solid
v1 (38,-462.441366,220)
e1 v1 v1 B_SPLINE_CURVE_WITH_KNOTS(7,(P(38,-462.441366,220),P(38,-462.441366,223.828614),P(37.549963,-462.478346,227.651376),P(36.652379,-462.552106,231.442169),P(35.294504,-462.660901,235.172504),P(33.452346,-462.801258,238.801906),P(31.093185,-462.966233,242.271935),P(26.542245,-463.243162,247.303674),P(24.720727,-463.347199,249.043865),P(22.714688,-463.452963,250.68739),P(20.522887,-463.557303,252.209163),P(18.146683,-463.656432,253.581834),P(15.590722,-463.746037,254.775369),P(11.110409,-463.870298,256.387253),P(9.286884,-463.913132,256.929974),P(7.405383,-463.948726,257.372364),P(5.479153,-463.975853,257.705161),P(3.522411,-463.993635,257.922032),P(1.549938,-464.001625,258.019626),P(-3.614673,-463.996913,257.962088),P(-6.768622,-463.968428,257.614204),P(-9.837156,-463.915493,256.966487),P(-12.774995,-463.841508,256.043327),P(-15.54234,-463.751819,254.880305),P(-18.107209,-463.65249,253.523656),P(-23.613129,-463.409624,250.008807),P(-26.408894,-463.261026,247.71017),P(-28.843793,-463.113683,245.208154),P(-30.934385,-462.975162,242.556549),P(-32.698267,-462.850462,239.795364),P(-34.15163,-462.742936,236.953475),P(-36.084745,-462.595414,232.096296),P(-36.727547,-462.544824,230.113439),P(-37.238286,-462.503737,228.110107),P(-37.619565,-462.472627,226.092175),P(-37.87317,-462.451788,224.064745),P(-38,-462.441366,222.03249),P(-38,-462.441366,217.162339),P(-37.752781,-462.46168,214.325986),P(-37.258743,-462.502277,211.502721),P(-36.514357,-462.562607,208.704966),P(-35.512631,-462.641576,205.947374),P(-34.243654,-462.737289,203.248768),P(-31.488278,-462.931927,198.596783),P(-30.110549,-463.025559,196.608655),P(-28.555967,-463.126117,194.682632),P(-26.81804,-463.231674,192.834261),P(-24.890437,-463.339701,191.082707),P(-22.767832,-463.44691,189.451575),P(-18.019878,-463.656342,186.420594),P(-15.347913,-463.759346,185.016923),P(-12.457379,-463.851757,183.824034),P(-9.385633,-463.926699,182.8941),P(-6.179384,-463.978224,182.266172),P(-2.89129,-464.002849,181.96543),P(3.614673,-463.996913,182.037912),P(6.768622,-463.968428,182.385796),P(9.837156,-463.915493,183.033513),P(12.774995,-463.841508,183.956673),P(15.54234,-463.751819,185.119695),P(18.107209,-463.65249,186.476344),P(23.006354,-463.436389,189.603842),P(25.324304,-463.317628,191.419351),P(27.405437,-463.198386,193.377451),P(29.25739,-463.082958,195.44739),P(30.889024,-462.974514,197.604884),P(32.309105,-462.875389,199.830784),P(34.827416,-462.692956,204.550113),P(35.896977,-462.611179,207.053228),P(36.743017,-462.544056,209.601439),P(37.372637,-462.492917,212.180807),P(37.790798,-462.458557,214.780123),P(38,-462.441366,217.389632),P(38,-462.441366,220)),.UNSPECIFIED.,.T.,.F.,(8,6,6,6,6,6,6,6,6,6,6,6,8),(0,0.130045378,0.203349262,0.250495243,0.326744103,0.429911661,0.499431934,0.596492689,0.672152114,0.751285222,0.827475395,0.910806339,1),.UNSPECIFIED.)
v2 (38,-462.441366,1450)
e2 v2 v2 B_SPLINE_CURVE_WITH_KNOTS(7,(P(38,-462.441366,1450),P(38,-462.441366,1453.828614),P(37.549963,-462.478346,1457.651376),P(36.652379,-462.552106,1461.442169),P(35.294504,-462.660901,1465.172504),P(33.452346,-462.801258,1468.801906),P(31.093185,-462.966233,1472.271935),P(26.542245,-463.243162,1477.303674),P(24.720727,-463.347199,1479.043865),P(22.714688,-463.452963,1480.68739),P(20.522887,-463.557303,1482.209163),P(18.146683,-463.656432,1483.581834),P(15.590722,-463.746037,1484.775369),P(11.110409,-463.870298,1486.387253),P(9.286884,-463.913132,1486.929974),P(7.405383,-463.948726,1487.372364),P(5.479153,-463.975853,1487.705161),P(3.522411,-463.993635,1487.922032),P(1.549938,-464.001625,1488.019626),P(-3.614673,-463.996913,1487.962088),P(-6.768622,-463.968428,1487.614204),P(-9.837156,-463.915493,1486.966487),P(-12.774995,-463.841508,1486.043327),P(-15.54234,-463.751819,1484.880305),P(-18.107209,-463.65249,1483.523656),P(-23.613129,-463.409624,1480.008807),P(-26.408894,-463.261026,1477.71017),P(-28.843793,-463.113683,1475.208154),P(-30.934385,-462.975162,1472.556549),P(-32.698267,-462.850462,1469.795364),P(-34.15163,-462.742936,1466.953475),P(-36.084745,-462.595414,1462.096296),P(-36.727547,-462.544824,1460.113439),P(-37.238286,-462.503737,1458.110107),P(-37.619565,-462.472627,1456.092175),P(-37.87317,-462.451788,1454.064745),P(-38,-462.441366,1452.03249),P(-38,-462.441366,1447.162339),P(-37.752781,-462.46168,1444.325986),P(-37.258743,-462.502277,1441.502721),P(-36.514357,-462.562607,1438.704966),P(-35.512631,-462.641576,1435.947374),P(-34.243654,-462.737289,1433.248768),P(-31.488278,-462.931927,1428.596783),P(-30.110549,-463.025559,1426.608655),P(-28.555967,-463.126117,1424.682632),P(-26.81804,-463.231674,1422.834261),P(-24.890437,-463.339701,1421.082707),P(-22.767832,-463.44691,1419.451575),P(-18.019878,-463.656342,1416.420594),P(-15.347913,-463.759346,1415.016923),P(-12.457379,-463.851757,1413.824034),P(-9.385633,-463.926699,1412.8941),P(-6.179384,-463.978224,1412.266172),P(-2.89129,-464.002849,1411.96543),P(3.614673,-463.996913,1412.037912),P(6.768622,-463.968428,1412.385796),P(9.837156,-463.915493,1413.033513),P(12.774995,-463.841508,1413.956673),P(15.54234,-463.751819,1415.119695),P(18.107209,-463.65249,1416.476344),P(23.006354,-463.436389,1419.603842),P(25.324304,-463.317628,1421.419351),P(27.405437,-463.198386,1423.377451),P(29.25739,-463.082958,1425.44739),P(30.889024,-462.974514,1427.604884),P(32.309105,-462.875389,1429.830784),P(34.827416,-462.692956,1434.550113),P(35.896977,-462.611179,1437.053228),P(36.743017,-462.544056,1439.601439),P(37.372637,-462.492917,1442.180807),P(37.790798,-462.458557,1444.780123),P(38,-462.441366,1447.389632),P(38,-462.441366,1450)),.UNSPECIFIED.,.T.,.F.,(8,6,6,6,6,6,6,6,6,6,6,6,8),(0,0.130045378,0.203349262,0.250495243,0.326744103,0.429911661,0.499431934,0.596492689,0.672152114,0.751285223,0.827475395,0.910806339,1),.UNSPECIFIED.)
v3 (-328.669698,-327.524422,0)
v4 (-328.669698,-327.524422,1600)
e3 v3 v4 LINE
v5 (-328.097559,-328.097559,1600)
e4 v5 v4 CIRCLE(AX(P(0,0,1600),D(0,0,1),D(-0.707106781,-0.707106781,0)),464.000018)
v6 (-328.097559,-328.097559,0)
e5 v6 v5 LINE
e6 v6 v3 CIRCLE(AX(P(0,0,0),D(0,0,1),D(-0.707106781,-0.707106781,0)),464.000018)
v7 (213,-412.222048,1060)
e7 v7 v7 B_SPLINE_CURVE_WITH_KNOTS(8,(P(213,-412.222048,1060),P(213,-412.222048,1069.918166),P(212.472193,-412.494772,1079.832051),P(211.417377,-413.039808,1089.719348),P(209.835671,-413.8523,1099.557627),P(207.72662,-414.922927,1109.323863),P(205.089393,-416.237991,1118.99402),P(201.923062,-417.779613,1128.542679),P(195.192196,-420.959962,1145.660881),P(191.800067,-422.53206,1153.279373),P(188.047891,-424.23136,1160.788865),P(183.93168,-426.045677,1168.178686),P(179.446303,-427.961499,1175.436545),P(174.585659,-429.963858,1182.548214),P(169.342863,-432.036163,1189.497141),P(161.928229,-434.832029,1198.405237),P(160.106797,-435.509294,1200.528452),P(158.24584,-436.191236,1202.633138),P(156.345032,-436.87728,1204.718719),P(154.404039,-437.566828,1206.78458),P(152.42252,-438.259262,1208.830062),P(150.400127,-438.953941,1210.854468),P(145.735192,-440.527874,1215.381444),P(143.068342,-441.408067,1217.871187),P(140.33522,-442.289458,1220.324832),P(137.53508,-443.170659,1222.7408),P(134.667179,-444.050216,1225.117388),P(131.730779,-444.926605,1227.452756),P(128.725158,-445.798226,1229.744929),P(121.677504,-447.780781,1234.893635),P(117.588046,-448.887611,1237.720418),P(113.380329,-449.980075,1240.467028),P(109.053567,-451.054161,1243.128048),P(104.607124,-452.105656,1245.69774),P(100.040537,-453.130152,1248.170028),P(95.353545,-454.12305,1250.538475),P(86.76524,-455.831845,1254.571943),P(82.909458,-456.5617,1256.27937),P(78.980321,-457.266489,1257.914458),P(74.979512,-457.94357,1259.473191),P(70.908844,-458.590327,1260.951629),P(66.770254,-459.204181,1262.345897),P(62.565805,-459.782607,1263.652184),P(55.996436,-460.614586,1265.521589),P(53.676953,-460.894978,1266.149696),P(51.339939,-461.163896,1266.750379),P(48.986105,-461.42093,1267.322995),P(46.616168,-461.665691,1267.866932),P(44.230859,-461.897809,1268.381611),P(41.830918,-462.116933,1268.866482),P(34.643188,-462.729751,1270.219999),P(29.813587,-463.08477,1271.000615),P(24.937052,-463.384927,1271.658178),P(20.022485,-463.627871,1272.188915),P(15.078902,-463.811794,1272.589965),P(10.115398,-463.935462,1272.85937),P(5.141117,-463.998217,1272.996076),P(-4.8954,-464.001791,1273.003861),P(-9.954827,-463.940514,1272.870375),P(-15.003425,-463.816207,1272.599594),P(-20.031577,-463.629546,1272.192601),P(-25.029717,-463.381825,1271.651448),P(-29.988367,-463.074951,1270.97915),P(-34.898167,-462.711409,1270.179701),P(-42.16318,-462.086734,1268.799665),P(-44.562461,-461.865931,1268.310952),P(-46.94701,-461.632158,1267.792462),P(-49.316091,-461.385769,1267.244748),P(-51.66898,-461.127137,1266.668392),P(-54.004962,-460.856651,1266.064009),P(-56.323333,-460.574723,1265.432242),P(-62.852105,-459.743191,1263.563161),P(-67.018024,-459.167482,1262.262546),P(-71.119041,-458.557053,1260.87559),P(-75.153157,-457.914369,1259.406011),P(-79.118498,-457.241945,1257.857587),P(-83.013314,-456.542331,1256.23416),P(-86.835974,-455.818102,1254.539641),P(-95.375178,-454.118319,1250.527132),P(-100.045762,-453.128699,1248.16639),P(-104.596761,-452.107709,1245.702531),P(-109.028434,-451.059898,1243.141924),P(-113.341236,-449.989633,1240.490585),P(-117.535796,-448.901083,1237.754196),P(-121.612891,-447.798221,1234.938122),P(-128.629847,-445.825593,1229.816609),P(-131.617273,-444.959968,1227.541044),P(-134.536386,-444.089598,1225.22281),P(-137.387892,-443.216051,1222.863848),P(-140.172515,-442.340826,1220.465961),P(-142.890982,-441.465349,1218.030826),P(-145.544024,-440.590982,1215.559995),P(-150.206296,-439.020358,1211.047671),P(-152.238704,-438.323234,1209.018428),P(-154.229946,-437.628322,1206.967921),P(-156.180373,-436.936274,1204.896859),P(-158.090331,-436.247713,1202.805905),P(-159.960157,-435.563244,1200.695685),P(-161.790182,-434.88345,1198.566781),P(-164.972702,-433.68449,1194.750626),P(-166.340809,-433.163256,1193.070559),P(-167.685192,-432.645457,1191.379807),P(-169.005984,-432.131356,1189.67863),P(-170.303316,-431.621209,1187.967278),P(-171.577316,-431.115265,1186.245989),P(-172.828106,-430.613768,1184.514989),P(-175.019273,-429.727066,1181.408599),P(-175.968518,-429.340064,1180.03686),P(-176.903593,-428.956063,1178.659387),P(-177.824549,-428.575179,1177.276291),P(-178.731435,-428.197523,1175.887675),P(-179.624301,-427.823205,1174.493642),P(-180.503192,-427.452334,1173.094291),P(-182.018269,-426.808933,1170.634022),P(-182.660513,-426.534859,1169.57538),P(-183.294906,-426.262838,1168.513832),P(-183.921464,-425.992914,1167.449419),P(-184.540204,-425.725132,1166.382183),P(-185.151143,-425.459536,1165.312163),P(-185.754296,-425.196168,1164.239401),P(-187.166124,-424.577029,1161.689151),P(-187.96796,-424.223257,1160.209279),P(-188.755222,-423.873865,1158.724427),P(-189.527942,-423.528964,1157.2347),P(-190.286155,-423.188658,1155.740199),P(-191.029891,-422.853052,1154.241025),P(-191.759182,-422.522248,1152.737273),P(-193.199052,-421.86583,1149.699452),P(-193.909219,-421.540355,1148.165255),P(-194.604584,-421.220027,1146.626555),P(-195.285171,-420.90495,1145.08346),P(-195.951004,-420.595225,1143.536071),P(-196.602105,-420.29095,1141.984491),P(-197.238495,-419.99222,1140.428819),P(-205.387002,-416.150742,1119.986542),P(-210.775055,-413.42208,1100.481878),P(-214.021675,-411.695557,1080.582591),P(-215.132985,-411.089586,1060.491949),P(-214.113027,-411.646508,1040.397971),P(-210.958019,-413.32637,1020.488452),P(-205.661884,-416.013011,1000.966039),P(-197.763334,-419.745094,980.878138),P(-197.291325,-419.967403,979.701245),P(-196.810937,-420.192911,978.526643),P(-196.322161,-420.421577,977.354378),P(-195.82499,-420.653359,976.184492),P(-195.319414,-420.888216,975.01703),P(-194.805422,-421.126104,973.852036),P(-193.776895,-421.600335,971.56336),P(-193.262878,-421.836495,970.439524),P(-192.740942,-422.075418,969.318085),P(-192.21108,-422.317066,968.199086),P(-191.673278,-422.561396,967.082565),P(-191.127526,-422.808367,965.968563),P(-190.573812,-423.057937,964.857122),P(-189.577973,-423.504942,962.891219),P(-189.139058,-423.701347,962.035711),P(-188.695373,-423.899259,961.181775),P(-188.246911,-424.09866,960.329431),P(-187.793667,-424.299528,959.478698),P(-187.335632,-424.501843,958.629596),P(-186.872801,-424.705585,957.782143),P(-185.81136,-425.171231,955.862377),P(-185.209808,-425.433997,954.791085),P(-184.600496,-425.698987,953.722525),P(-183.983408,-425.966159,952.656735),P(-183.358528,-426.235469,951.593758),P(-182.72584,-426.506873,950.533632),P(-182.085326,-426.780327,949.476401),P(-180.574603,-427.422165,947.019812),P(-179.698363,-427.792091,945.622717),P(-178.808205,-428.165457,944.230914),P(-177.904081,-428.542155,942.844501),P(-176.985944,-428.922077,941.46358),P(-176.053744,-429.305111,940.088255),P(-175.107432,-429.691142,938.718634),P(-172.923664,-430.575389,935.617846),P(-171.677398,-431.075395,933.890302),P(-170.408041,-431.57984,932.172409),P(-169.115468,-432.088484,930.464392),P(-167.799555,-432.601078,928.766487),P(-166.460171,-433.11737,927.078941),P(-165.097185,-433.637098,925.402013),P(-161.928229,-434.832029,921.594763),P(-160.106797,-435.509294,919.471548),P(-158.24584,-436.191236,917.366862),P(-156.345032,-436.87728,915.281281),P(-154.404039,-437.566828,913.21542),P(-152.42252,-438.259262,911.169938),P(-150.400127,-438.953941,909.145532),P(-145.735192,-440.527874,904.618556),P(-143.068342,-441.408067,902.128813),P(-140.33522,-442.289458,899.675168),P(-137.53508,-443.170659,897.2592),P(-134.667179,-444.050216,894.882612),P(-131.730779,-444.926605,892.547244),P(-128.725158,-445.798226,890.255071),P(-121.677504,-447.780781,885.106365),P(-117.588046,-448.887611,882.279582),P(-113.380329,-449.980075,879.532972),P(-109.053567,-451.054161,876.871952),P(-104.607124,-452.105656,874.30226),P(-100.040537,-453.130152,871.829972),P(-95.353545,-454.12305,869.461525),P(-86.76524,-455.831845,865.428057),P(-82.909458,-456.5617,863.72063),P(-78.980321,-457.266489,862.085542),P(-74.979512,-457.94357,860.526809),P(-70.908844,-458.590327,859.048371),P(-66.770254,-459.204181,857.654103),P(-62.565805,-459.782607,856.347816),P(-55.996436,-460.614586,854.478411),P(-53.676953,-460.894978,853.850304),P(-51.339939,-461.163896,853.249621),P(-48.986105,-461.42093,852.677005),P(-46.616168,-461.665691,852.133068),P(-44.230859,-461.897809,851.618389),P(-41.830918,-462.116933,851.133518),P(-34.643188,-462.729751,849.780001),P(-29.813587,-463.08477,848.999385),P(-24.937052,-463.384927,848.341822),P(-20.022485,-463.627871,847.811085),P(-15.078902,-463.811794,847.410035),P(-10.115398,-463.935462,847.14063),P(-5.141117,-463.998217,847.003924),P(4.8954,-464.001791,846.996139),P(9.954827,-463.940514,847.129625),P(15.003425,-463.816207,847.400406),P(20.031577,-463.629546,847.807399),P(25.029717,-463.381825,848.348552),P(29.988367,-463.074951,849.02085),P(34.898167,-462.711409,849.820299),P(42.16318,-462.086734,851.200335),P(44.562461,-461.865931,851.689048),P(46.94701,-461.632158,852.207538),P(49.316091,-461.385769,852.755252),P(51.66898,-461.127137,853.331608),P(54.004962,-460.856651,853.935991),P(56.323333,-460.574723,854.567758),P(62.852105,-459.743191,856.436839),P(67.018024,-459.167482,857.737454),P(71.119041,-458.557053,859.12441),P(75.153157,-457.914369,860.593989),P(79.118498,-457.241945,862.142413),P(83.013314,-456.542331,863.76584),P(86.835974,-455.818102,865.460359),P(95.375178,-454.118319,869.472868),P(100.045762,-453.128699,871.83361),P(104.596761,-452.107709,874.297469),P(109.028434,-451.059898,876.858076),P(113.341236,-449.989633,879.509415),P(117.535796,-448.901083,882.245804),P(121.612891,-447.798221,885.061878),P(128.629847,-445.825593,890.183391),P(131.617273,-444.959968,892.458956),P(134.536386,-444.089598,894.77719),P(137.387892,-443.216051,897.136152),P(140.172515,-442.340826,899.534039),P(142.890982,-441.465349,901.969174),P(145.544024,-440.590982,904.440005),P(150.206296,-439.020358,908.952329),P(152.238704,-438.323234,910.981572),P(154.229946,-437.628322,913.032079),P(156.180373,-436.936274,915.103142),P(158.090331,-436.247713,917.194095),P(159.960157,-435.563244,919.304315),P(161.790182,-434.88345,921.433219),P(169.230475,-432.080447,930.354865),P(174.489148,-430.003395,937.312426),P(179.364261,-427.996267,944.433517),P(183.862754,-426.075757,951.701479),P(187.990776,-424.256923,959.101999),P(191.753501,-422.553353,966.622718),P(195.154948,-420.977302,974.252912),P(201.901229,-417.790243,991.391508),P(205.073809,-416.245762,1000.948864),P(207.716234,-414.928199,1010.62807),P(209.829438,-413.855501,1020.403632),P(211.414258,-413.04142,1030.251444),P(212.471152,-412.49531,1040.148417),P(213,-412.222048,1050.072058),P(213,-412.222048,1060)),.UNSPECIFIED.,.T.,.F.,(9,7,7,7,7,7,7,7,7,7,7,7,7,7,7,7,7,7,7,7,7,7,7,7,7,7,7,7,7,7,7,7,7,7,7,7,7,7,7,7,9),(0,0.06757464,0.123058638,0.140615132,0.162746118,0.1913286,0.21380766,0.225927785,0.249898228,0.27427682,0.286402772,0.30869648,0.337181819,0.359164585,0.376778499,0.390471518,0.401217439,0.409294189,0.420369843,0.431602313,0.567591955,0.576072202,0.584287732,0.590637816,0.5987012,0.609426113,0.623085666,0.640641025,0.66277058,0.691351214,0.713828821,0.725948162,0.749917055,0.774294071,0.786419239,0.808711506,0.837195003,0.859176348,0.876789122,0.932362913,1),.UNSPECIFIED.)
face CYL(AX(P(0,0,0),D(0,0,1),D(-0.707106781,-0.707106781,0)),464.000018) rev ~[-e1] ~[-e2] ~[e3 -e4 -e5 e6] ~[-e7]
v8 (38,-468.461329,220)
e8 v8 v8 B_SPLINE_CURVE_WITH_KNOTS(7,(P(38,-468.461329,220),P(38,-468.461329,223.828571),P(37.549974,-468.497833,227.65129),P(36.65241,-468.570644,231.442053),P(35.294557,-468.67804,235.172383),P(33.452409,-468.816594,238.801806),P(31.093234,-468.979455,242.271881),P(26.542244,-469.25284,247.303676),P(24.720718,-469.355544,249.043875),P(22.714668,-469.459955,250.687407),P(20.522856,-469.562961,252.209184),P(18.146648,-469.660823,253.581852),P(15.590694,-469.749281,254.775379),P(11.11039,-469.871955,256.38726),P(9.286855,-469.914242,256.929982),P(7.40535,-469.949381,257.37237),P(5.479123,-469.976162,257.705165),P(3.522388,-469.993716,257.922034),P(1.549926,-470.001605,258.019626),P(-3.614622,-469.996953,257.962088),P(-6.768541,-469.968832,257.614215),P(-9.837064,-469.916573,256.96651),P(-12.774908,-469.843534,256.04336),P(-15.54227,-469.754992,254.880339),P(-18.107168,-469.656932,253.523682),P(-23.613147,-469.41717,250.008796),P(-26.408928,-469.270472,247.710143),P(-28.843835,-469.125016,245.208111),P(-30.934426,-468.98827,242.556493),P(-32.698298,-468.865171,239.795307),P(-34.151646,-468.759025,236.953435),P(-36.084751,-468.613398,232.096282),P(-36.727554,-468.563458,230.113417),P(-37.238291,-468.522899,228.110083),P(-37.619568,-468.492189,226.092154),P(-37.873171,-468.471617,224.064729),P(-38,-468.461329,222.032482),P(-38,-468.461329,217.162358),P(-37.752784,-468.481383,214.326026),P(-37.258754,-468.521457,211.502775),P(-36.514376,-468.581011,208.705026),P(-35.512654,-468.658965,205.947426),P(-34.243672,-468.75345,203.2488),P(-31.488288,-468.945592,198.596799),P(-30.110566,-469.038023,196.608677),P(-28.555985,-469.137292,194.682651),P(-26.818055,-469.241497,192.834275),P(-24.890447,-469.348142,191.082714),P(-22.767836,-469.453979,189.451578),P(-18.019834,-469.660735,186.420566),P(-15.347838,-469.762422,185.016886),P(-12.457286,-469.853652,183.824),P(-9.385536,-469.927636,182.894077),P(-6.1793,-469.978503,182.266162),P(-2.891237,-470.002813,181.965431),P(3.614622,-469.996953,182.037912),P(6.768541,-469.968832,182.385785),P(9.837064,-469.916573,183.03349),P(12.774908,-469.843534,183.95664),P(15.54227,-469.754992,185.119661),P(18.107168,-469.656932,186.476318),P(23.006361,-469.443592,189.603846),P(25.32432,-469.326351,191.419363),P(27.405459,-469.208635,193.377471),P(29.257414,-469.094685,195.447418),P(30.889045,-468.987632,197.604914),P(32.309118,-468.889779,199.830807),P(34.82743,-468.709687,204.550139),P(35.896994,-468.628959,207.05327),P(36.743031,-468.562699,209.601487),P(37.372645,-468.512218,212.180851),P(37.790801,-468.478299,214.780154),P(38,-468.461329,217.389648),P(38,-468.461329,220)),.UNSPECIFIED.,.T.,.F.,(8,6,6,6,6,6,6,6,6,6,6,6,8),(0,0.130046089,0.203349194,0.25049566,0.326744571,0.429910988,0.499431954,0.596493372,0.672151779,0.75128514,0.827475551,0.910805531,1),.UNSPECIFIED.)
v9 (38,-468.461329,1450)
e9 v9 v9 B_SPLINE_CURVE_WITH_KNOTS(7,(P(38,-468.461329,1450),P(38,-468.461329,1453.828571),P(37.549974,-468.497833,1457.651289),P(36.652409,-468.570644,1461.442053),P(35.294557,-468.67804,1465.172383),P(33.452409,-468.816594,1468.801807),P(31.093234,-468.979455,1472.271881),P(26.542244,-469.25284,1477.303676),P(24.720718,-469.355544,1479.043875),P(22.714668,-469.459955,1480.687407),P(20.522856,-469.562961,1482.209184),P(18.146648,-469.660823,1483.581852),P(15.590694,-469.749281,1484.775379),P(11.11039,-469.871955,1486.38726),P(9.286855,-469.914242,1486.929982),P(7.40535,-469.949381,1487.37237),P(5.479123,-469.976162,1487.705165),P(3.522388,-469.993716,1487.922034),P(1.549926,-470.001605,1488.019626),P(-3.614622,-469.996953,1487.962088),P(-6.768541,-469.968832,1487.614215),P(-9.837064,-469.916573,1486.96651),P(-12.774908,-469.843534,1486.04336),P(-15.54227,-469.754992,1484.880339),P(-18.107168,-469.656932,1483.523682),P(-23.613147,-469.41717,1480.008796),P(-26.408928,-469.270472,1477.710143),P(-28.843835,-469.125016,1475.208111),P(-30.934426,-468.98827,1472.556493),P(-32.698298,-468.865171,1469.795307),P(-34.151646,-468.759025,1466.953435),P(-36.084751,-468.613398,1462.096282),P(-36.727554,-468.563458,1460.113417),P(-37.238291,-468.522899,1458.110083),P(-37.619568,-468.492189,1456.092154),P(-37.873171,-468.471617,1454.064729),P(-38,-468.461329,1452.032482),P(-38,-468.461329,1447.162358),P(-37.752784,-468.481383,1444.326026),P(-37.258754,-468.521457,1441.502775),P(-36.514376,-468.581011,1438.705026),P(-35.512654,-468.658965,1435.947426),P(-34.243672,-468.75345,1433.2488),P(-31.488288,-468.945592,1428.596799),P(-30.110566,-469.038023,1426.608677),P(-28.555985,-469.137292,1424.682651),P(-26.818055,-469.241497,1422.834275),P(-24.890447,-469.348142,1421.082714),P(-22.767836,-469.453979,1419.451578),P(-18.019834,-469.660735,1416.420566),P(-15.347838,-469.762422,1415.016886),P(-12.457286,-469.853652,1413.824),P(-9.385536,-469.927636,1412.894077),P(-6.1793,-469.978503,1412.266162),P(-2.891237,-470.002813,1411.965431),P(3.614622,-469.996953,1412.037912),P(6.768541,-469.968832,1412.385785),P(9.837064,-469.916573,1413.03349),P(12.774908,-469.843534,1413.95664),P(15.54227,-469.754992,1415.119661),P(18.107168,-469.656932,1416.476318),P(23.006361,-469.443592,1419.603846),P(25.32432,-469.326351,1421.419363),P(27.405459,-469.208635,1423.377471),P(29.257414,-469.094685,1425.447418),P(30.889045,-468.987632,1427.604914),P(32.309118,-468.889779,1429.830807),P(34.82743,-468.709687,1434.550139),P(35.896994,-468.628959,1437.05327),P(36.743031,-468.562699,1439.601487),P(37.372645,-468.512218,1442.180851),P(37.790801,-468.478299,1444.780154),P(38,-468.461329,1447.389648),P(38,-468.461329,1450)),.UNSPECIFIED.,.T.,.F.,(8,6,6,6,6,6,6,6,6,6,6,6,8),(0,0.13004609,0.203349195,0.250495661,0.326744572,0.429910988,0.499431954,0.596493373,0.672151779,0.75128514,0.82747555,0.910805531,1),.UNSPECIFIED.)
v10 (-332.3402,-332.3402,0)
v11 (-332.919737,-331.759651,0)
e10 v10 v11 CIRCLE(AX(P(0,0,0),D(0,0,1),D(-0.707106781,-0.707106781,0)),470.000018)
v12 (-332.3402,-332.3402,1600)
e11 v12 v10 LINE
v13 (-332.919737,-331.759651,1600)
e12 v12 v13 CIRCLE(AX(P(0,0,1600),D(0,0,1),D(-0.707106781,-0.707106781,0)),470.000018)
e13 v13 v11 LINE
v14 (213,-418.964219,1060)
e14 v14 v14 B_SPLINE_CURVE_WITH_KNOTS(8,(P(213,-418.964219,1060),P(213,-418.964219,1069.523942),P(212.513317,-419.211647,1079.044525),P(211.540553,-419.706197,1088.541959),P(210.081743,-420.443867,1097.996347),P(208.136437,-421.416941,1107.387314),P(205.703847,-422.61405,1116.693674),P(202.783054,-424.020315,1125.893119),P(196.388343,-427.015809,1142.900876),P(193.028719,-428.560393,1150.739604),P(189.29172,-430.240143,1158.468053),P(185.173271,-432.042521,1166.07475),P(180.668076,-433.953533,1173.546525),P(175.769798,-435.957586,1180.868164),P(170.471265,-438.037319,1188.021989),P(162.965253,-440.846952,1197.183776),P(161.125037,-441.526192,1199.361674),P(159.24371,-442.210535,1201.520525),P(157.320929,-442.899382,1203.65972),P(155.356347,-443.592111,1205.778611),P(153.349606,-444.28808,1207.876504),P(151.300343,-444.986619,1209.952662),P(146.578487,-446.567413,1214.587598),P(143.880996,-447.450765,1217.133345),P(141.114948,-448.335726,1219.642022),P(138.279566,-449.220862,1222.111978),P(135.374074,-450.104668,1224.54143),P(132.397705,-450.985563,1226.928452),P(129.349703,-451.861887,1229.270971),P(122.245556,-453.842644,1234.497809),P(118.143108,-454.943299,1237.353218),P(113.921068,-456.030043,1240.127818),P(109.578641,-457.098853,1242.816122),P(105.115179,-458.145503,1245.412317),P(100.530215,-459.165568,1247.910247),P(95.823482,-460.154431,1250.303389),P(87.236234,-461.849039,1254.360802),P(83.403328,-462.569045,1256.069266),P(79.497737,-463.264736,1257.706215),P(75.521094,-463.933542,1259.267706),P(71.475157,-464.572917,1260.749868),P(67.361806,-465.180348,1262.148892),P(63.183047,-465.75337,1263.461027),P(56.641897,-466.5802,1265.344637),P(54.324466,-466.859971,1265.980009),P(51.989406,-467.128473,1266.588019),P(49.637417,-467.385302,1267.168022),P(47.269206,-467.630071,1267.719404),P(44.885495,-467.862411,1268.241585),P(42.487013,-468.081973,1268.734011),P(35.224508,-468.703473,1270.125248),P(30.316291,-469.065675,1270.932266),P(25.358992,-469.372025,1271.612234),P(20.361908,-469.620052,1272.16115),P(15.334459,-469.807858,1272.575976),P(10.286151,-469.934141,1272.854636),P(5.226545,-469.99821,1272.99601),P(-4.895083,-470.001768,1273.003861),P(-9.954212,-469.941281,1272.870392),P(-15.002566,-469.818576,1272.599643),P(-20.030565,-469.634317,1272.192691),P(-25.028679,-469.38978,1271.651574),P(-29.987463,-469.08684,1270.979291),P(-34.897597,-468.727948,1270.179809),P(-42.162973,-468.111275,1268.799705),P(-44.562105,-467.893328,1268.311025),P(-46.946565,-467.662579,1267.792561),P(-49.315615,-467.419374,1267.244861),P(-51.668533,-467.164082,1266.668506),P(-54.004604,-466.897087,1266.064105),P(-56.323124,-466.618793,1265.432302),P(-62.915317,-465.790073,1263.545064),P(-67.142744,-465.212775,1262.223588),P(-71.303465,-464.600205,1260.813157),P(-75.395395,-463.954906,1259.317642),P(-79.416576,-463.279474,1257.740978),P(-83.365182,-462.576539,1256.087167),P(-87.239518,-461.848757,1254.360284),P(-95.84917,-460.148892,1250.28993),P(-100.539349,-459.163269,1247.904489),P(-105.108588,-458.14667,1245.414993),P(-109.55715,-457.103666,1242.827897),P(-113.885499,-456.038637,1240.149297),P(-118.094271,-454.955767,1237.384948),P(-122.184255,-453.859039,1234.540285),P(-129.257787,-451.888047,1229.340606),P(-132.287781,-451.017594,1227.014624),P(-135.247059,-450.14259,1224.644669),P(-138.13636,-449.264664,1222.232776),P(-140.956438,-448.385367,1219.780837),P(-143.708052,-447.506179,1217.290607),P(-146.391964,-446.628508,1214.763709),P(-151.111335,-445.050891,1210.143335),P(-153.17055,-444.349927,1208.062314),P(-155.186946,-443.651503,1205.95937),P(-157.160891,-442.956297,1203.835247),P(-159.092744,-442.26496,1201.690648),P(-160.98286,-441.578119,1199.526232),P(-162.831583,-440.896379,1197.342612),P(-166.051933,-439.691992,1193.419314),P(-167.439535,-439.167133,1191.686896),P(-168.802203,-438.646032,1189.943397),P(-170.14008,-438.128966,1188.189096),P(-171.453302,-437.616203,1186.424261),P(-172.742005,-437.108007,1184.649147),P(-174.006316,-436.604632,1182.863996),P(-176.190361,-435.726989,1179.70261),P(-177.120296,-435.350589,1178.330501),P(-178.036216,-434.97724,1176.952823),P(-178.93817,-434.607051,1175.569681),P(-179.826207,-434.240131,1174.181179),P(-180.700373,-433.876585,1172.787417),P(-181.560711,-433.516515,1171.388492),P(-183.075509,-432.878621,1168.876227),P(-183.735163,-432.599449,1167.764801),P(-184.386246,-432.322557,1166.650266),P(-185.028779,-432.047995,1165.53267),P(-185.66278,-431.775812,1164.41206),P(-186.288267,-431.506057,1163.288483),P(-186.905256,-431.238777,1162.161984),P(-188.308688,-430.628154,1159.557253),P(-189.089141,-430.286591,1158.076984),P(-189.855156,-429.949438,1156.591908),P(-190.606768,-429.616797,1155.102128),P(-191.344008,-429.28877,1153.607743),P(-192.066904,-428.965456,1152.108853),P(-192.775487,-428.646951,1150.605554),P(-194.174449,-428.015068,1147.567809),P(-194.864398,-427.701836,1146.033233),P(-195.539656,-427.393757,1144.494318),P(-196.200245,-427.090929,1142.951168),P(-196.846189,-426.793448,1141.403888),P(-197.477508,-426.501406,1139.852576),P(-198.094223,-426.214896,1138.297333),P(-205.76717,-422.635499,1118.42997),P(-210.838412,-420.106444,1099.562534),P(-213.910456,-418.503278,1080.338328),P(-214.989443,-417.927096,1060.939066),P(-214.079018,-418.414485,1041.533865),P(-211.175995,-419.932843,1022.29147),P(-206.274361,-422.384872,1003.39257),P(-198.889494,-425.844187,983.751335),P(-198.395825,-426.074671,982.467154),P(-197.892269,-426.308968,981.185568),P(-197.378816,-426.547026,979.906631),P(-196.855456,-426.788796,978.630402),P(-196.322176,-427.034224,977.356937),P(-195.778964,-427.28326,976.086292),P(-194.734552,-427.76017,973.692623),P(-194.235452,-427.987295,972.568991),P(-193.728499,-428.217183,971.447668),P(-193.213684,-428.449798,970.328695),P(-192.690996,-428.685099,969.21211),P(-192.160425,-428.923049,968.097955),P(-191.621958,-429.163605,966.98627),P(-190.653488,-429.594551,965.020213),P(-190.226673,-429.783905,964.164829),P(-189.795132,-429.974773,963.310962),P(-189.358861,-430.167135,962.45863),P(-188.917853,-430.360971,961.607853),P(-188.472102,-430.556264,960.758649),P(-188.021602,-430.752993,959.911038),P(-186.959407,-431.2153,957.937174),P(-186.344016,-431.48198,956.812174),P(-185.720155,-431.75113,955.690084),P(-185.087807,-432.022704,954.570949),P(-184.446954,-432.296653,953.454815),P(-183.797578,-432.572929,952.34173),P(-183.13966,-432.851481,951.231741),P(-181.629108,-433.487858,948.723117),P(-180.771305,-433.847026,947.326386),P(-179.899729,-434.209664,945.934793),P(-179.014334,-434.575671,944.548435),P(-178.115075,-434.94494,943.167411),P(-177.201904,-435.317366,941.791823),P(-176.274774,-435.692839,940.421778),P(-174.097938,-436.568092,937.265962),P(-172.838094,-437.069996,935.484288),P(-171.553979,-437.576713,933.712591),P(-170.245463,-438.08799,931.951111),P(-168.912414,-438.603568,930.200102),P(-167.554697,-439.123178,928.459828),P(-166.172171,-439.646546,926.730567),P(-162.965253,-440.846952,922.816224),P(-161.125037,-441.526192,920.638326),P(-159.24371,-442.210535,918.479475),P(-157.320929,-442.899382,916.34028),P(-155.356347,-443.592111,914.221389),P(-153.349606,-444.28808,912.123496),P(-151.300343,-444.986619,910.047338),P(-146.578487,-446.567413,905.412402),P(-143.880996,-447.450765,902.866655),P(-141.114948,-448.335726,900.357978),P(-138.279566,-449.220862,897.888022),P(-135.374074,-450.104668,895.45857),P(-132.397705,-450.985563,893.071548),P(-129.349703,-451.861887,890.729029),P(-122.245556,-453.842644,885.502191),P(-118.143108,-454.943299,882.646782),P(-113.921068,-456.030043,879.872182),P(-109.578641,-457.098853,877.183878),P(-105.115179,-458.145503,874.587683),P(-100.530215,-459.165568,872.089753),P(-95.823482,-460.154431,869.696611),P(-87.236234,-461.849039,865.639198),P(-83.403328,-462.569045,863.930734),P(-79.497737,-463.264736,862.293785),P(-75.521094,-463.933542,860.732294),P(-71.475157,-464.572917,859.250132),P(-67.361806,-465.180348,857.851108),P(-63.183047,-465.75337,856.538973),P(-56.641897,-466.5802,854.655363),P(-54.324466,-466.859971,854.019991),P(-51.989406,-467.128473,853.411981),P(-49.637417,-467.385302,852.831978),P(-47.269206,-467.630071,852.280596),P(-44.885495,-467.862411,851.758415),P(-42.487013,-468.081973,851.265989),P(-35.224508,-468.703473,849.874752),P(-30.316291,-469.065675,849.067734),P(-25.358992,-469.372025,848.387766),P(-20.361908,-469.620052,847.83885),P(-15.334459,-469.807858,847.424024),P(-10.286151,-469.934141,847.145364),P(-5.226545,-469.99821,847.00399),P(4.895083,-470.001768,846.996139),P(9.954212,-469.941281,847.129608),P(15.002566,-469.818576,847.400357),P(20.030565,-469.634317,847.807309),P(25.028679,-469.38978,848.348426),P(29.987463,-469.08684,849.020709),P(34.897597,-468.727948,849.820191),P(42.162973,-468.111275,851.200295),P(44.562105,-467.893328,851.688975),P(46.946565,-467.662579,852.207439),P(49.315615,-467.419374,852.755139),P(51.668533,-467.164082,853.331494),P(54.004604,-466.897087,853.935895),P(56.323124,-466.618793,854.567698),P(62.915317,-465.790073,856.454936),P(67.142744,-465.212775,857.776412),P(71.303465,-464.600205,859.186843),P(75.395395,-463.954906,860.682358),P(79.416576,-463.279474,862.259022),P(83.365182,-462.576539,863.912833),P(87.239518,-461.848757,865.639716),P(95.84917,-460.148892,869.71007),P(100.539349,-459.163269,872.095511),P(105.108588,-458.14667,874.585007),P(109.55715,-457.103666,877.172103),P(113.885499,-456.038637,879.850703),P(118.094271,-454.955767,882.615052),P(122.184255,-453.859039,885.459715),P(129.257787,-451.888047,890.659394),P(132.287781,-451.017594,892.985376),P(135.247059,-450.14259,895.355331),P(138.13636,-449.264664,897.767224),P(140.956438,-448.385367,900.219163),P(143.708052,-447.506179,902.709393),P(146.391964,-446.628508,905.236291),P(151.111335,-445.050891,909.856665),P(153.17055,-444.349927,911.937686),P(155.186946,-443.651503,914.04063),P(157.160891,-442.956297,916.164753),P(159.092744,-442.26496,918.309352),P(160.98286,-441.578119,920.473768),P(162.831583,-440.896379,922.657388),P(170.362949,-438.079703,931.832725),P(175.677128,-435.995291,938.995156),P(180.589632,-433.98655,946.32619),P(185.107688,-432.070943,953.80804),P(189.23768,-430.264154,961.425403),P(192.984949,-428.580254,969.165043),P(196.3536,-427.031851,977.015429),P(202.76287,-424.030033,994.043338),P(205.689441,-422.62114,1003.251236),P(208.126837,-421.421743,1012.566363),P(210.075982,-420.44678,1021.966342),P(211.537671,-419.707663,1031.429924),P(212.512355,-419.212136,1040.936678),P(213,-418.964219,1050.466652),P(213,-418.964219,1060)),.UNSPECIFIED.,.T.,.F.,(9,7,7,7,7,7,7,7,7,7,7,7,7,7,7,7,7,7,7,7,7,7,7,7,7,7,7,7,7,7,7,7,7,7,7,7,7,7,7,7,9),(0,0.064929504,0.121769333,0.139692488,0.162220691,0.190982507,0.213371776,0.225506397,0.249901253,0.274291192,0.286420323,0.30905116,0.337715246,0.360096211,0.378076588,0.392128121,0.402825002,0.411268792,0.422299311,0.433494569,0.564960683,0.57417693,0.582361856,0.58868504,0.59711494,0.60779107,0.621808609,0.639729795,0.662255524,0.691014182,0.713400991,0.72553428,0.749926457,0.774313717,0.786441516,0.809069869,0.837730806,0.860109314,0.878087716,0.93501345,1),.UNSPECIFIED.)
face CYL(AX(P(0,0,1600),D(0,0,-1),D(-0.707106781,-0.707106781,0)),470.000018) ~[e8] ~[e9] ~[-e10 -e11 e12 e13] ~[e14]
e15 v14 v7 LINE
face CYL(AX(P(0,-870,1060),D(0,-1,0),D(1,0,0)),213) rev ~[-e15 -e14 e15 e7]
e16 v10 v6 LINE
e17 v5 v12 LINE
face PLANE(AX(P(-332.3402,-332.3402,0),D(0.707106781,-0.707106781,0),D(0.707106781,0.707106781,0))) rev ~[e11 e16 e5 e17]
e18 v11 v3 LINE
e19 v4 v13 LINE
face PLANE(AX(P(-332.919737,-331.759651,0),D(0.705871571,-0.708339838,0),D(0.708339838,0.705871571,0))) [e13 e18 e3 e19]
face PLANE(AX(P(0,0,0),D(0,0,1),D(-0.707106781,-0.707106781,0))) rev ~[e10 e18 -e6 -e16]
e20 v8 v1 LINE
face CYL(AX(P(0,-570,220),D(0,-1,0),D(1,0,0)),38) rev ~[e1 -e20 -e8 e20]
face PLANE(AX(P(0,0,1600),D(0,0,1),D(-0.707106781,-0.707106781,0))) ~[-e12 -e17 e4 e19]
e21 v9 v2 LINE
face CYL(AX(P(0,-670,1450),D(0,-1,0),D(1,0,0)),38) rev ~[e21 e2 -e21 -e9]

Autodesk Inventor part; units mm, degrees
sketch "floor angle sketch" plane through (0, 0, 0) normal (0, 0, 1) x (1, 0, 0)
  line L0 (0, 0) -> (0, -240.1382) construction
  line L1 (0, 0) -> (0, -870)
  line L2 (-332.3402, -332.3402) -> (332.3402, 332.3402) construction
  circle A0 centre (0, 0) radius 470 construction
  line L3 (0, 0) -> (0, -670)
  line L4 (-38, -670) -> (38, -670)
  line L5 (-213, -870) -> (213, -870)
  line L6 (0, 0) -> (-263.3555, -723.5633)
  line L7 (0, 0) -> (0, -570)
  line L8 (-38, -570) -> (38, -570)
  line L9 (-324.4355, -701.332) -> (-202.2755, -745.7946)
  dimension "d51" = 940
  dimension "d52" = 45
  dimension "d54" = 0
  dimension "d55" = 0
  dimension "d56" = 426
  dimension "d58" = 76
  dimension "d59" = 76
  dimension "d60" = 0
  dimension "d61" = 570
  dimension "d62" = 130
  dimension "d63" = 20
  dimension "d64" = 670
  dimension "d65" = 770
  dimension "d66" = 870
ref_plane "SHELL Plane" through (-332.3402, -332.3402, 0) normal (0.7071, -0.7071, 0) x (0.7071, 0.7071, 0)
ref_plane "ACCESS Plane" through (-213, -870, 0) normal (0, -1, 0) x (1, 0, 0)
ref_plane "OUTER Plane" through (-38, -670, 0) normal (0, -1, 0) x (1, 0, 0)
ref_plane "INNER Plane" through (-38, -570, 0) normal (0, -1, 0) x (1, 0, 0)
ref_plane "CHARGE Plane" through (-324.4355, -701.332, 0) normal (-0.342, -0.9397, 0) x (0.9397, -0.342, 0)
sketch "Sketch13" plane through (-332.3402, -332.3402, 0) normal (0.7071, -0.7071, 0) x (0.7071, 0.7071, 0)
  line L0 (470, 0) -> (470, 892.6829)
  line L1 (0, 0) -> (6, 0)
  line L2 (6, 0) -> (6, 1600)
  line L3 (6, 1600) -> (0, 1600)
  line L4 (0, 1600) -> (0, 0)
  dimension "d75" = 1600
  dimension "d76" = 6
  dimension "d77" = 940
revolve "Revolution2" add sketch "Sketch13" angle 359.9 about axis through (0, 0, 0) along (0, 0, 1)
sketch "Sketch14" plane through (-213, -870, 0) normal (0, -1, 0) x (1, 0, 0)
  circle A0 centre (213, 1060) radius 213
  line L0 (683, 1600) -> (-257, 1600) projected
  point P0 (213, 0)
  point P1 (-119.3402, 1600)
  point P2 (-119.9197, 1600)
  dimension "d80" = 426
  dimension "d93" = 540
extrude "ACCESS" cut sketch "Sketch14" against normal up to next
sketch "Sketch15" plane through (-38, -570, 0) normal (0, -1, 0) x (1, 0, 0)
  circle A0 centre (38, 220) radius 38
  point P0 (38, 0)
  dimension "d84" = 76
  dimension "d85" = 220
extrude "INNER" cut sketch "Sketch15" against normal up to next
sketch "Sketch16" plane through (-38, -670, 0) normal (0, -1, 0) x (1, 0, 0)
  circle A0 centre (38, 1450) radius 38
  line L0 (508, 1600) -> (-432, 1600) projected
  point P0 (38, 0)
  point P1 (-294.3402, 1600)
  point P2 (-294.9197, 1600)
  dimension "d89" = 76
  dimension "d92" = 150
extrude "Extrusion9" cut sketch "Sketch16" against normal up to next
equation "\"BendRadius\" = Thickness"
equation "\"BendReliefWidth\" = Thickness"
equation "\"BendReliefDepth\" = 0.5 * Thickness"
equation "\"CornerReliefSize\" = 4 * Thickness"
equation "\"MinimumRemnant\" = 2 * Thickness"
equation "\"TransitionRadius\" = BendRadius"
equation "\"JacobiRadiusSize\" = BendRadius"
equation "\"GapSize\" = Thickness"
equation "\"Thickness\" = 6"
properties part number "TZS 0902 SHELL" material "Steel"
